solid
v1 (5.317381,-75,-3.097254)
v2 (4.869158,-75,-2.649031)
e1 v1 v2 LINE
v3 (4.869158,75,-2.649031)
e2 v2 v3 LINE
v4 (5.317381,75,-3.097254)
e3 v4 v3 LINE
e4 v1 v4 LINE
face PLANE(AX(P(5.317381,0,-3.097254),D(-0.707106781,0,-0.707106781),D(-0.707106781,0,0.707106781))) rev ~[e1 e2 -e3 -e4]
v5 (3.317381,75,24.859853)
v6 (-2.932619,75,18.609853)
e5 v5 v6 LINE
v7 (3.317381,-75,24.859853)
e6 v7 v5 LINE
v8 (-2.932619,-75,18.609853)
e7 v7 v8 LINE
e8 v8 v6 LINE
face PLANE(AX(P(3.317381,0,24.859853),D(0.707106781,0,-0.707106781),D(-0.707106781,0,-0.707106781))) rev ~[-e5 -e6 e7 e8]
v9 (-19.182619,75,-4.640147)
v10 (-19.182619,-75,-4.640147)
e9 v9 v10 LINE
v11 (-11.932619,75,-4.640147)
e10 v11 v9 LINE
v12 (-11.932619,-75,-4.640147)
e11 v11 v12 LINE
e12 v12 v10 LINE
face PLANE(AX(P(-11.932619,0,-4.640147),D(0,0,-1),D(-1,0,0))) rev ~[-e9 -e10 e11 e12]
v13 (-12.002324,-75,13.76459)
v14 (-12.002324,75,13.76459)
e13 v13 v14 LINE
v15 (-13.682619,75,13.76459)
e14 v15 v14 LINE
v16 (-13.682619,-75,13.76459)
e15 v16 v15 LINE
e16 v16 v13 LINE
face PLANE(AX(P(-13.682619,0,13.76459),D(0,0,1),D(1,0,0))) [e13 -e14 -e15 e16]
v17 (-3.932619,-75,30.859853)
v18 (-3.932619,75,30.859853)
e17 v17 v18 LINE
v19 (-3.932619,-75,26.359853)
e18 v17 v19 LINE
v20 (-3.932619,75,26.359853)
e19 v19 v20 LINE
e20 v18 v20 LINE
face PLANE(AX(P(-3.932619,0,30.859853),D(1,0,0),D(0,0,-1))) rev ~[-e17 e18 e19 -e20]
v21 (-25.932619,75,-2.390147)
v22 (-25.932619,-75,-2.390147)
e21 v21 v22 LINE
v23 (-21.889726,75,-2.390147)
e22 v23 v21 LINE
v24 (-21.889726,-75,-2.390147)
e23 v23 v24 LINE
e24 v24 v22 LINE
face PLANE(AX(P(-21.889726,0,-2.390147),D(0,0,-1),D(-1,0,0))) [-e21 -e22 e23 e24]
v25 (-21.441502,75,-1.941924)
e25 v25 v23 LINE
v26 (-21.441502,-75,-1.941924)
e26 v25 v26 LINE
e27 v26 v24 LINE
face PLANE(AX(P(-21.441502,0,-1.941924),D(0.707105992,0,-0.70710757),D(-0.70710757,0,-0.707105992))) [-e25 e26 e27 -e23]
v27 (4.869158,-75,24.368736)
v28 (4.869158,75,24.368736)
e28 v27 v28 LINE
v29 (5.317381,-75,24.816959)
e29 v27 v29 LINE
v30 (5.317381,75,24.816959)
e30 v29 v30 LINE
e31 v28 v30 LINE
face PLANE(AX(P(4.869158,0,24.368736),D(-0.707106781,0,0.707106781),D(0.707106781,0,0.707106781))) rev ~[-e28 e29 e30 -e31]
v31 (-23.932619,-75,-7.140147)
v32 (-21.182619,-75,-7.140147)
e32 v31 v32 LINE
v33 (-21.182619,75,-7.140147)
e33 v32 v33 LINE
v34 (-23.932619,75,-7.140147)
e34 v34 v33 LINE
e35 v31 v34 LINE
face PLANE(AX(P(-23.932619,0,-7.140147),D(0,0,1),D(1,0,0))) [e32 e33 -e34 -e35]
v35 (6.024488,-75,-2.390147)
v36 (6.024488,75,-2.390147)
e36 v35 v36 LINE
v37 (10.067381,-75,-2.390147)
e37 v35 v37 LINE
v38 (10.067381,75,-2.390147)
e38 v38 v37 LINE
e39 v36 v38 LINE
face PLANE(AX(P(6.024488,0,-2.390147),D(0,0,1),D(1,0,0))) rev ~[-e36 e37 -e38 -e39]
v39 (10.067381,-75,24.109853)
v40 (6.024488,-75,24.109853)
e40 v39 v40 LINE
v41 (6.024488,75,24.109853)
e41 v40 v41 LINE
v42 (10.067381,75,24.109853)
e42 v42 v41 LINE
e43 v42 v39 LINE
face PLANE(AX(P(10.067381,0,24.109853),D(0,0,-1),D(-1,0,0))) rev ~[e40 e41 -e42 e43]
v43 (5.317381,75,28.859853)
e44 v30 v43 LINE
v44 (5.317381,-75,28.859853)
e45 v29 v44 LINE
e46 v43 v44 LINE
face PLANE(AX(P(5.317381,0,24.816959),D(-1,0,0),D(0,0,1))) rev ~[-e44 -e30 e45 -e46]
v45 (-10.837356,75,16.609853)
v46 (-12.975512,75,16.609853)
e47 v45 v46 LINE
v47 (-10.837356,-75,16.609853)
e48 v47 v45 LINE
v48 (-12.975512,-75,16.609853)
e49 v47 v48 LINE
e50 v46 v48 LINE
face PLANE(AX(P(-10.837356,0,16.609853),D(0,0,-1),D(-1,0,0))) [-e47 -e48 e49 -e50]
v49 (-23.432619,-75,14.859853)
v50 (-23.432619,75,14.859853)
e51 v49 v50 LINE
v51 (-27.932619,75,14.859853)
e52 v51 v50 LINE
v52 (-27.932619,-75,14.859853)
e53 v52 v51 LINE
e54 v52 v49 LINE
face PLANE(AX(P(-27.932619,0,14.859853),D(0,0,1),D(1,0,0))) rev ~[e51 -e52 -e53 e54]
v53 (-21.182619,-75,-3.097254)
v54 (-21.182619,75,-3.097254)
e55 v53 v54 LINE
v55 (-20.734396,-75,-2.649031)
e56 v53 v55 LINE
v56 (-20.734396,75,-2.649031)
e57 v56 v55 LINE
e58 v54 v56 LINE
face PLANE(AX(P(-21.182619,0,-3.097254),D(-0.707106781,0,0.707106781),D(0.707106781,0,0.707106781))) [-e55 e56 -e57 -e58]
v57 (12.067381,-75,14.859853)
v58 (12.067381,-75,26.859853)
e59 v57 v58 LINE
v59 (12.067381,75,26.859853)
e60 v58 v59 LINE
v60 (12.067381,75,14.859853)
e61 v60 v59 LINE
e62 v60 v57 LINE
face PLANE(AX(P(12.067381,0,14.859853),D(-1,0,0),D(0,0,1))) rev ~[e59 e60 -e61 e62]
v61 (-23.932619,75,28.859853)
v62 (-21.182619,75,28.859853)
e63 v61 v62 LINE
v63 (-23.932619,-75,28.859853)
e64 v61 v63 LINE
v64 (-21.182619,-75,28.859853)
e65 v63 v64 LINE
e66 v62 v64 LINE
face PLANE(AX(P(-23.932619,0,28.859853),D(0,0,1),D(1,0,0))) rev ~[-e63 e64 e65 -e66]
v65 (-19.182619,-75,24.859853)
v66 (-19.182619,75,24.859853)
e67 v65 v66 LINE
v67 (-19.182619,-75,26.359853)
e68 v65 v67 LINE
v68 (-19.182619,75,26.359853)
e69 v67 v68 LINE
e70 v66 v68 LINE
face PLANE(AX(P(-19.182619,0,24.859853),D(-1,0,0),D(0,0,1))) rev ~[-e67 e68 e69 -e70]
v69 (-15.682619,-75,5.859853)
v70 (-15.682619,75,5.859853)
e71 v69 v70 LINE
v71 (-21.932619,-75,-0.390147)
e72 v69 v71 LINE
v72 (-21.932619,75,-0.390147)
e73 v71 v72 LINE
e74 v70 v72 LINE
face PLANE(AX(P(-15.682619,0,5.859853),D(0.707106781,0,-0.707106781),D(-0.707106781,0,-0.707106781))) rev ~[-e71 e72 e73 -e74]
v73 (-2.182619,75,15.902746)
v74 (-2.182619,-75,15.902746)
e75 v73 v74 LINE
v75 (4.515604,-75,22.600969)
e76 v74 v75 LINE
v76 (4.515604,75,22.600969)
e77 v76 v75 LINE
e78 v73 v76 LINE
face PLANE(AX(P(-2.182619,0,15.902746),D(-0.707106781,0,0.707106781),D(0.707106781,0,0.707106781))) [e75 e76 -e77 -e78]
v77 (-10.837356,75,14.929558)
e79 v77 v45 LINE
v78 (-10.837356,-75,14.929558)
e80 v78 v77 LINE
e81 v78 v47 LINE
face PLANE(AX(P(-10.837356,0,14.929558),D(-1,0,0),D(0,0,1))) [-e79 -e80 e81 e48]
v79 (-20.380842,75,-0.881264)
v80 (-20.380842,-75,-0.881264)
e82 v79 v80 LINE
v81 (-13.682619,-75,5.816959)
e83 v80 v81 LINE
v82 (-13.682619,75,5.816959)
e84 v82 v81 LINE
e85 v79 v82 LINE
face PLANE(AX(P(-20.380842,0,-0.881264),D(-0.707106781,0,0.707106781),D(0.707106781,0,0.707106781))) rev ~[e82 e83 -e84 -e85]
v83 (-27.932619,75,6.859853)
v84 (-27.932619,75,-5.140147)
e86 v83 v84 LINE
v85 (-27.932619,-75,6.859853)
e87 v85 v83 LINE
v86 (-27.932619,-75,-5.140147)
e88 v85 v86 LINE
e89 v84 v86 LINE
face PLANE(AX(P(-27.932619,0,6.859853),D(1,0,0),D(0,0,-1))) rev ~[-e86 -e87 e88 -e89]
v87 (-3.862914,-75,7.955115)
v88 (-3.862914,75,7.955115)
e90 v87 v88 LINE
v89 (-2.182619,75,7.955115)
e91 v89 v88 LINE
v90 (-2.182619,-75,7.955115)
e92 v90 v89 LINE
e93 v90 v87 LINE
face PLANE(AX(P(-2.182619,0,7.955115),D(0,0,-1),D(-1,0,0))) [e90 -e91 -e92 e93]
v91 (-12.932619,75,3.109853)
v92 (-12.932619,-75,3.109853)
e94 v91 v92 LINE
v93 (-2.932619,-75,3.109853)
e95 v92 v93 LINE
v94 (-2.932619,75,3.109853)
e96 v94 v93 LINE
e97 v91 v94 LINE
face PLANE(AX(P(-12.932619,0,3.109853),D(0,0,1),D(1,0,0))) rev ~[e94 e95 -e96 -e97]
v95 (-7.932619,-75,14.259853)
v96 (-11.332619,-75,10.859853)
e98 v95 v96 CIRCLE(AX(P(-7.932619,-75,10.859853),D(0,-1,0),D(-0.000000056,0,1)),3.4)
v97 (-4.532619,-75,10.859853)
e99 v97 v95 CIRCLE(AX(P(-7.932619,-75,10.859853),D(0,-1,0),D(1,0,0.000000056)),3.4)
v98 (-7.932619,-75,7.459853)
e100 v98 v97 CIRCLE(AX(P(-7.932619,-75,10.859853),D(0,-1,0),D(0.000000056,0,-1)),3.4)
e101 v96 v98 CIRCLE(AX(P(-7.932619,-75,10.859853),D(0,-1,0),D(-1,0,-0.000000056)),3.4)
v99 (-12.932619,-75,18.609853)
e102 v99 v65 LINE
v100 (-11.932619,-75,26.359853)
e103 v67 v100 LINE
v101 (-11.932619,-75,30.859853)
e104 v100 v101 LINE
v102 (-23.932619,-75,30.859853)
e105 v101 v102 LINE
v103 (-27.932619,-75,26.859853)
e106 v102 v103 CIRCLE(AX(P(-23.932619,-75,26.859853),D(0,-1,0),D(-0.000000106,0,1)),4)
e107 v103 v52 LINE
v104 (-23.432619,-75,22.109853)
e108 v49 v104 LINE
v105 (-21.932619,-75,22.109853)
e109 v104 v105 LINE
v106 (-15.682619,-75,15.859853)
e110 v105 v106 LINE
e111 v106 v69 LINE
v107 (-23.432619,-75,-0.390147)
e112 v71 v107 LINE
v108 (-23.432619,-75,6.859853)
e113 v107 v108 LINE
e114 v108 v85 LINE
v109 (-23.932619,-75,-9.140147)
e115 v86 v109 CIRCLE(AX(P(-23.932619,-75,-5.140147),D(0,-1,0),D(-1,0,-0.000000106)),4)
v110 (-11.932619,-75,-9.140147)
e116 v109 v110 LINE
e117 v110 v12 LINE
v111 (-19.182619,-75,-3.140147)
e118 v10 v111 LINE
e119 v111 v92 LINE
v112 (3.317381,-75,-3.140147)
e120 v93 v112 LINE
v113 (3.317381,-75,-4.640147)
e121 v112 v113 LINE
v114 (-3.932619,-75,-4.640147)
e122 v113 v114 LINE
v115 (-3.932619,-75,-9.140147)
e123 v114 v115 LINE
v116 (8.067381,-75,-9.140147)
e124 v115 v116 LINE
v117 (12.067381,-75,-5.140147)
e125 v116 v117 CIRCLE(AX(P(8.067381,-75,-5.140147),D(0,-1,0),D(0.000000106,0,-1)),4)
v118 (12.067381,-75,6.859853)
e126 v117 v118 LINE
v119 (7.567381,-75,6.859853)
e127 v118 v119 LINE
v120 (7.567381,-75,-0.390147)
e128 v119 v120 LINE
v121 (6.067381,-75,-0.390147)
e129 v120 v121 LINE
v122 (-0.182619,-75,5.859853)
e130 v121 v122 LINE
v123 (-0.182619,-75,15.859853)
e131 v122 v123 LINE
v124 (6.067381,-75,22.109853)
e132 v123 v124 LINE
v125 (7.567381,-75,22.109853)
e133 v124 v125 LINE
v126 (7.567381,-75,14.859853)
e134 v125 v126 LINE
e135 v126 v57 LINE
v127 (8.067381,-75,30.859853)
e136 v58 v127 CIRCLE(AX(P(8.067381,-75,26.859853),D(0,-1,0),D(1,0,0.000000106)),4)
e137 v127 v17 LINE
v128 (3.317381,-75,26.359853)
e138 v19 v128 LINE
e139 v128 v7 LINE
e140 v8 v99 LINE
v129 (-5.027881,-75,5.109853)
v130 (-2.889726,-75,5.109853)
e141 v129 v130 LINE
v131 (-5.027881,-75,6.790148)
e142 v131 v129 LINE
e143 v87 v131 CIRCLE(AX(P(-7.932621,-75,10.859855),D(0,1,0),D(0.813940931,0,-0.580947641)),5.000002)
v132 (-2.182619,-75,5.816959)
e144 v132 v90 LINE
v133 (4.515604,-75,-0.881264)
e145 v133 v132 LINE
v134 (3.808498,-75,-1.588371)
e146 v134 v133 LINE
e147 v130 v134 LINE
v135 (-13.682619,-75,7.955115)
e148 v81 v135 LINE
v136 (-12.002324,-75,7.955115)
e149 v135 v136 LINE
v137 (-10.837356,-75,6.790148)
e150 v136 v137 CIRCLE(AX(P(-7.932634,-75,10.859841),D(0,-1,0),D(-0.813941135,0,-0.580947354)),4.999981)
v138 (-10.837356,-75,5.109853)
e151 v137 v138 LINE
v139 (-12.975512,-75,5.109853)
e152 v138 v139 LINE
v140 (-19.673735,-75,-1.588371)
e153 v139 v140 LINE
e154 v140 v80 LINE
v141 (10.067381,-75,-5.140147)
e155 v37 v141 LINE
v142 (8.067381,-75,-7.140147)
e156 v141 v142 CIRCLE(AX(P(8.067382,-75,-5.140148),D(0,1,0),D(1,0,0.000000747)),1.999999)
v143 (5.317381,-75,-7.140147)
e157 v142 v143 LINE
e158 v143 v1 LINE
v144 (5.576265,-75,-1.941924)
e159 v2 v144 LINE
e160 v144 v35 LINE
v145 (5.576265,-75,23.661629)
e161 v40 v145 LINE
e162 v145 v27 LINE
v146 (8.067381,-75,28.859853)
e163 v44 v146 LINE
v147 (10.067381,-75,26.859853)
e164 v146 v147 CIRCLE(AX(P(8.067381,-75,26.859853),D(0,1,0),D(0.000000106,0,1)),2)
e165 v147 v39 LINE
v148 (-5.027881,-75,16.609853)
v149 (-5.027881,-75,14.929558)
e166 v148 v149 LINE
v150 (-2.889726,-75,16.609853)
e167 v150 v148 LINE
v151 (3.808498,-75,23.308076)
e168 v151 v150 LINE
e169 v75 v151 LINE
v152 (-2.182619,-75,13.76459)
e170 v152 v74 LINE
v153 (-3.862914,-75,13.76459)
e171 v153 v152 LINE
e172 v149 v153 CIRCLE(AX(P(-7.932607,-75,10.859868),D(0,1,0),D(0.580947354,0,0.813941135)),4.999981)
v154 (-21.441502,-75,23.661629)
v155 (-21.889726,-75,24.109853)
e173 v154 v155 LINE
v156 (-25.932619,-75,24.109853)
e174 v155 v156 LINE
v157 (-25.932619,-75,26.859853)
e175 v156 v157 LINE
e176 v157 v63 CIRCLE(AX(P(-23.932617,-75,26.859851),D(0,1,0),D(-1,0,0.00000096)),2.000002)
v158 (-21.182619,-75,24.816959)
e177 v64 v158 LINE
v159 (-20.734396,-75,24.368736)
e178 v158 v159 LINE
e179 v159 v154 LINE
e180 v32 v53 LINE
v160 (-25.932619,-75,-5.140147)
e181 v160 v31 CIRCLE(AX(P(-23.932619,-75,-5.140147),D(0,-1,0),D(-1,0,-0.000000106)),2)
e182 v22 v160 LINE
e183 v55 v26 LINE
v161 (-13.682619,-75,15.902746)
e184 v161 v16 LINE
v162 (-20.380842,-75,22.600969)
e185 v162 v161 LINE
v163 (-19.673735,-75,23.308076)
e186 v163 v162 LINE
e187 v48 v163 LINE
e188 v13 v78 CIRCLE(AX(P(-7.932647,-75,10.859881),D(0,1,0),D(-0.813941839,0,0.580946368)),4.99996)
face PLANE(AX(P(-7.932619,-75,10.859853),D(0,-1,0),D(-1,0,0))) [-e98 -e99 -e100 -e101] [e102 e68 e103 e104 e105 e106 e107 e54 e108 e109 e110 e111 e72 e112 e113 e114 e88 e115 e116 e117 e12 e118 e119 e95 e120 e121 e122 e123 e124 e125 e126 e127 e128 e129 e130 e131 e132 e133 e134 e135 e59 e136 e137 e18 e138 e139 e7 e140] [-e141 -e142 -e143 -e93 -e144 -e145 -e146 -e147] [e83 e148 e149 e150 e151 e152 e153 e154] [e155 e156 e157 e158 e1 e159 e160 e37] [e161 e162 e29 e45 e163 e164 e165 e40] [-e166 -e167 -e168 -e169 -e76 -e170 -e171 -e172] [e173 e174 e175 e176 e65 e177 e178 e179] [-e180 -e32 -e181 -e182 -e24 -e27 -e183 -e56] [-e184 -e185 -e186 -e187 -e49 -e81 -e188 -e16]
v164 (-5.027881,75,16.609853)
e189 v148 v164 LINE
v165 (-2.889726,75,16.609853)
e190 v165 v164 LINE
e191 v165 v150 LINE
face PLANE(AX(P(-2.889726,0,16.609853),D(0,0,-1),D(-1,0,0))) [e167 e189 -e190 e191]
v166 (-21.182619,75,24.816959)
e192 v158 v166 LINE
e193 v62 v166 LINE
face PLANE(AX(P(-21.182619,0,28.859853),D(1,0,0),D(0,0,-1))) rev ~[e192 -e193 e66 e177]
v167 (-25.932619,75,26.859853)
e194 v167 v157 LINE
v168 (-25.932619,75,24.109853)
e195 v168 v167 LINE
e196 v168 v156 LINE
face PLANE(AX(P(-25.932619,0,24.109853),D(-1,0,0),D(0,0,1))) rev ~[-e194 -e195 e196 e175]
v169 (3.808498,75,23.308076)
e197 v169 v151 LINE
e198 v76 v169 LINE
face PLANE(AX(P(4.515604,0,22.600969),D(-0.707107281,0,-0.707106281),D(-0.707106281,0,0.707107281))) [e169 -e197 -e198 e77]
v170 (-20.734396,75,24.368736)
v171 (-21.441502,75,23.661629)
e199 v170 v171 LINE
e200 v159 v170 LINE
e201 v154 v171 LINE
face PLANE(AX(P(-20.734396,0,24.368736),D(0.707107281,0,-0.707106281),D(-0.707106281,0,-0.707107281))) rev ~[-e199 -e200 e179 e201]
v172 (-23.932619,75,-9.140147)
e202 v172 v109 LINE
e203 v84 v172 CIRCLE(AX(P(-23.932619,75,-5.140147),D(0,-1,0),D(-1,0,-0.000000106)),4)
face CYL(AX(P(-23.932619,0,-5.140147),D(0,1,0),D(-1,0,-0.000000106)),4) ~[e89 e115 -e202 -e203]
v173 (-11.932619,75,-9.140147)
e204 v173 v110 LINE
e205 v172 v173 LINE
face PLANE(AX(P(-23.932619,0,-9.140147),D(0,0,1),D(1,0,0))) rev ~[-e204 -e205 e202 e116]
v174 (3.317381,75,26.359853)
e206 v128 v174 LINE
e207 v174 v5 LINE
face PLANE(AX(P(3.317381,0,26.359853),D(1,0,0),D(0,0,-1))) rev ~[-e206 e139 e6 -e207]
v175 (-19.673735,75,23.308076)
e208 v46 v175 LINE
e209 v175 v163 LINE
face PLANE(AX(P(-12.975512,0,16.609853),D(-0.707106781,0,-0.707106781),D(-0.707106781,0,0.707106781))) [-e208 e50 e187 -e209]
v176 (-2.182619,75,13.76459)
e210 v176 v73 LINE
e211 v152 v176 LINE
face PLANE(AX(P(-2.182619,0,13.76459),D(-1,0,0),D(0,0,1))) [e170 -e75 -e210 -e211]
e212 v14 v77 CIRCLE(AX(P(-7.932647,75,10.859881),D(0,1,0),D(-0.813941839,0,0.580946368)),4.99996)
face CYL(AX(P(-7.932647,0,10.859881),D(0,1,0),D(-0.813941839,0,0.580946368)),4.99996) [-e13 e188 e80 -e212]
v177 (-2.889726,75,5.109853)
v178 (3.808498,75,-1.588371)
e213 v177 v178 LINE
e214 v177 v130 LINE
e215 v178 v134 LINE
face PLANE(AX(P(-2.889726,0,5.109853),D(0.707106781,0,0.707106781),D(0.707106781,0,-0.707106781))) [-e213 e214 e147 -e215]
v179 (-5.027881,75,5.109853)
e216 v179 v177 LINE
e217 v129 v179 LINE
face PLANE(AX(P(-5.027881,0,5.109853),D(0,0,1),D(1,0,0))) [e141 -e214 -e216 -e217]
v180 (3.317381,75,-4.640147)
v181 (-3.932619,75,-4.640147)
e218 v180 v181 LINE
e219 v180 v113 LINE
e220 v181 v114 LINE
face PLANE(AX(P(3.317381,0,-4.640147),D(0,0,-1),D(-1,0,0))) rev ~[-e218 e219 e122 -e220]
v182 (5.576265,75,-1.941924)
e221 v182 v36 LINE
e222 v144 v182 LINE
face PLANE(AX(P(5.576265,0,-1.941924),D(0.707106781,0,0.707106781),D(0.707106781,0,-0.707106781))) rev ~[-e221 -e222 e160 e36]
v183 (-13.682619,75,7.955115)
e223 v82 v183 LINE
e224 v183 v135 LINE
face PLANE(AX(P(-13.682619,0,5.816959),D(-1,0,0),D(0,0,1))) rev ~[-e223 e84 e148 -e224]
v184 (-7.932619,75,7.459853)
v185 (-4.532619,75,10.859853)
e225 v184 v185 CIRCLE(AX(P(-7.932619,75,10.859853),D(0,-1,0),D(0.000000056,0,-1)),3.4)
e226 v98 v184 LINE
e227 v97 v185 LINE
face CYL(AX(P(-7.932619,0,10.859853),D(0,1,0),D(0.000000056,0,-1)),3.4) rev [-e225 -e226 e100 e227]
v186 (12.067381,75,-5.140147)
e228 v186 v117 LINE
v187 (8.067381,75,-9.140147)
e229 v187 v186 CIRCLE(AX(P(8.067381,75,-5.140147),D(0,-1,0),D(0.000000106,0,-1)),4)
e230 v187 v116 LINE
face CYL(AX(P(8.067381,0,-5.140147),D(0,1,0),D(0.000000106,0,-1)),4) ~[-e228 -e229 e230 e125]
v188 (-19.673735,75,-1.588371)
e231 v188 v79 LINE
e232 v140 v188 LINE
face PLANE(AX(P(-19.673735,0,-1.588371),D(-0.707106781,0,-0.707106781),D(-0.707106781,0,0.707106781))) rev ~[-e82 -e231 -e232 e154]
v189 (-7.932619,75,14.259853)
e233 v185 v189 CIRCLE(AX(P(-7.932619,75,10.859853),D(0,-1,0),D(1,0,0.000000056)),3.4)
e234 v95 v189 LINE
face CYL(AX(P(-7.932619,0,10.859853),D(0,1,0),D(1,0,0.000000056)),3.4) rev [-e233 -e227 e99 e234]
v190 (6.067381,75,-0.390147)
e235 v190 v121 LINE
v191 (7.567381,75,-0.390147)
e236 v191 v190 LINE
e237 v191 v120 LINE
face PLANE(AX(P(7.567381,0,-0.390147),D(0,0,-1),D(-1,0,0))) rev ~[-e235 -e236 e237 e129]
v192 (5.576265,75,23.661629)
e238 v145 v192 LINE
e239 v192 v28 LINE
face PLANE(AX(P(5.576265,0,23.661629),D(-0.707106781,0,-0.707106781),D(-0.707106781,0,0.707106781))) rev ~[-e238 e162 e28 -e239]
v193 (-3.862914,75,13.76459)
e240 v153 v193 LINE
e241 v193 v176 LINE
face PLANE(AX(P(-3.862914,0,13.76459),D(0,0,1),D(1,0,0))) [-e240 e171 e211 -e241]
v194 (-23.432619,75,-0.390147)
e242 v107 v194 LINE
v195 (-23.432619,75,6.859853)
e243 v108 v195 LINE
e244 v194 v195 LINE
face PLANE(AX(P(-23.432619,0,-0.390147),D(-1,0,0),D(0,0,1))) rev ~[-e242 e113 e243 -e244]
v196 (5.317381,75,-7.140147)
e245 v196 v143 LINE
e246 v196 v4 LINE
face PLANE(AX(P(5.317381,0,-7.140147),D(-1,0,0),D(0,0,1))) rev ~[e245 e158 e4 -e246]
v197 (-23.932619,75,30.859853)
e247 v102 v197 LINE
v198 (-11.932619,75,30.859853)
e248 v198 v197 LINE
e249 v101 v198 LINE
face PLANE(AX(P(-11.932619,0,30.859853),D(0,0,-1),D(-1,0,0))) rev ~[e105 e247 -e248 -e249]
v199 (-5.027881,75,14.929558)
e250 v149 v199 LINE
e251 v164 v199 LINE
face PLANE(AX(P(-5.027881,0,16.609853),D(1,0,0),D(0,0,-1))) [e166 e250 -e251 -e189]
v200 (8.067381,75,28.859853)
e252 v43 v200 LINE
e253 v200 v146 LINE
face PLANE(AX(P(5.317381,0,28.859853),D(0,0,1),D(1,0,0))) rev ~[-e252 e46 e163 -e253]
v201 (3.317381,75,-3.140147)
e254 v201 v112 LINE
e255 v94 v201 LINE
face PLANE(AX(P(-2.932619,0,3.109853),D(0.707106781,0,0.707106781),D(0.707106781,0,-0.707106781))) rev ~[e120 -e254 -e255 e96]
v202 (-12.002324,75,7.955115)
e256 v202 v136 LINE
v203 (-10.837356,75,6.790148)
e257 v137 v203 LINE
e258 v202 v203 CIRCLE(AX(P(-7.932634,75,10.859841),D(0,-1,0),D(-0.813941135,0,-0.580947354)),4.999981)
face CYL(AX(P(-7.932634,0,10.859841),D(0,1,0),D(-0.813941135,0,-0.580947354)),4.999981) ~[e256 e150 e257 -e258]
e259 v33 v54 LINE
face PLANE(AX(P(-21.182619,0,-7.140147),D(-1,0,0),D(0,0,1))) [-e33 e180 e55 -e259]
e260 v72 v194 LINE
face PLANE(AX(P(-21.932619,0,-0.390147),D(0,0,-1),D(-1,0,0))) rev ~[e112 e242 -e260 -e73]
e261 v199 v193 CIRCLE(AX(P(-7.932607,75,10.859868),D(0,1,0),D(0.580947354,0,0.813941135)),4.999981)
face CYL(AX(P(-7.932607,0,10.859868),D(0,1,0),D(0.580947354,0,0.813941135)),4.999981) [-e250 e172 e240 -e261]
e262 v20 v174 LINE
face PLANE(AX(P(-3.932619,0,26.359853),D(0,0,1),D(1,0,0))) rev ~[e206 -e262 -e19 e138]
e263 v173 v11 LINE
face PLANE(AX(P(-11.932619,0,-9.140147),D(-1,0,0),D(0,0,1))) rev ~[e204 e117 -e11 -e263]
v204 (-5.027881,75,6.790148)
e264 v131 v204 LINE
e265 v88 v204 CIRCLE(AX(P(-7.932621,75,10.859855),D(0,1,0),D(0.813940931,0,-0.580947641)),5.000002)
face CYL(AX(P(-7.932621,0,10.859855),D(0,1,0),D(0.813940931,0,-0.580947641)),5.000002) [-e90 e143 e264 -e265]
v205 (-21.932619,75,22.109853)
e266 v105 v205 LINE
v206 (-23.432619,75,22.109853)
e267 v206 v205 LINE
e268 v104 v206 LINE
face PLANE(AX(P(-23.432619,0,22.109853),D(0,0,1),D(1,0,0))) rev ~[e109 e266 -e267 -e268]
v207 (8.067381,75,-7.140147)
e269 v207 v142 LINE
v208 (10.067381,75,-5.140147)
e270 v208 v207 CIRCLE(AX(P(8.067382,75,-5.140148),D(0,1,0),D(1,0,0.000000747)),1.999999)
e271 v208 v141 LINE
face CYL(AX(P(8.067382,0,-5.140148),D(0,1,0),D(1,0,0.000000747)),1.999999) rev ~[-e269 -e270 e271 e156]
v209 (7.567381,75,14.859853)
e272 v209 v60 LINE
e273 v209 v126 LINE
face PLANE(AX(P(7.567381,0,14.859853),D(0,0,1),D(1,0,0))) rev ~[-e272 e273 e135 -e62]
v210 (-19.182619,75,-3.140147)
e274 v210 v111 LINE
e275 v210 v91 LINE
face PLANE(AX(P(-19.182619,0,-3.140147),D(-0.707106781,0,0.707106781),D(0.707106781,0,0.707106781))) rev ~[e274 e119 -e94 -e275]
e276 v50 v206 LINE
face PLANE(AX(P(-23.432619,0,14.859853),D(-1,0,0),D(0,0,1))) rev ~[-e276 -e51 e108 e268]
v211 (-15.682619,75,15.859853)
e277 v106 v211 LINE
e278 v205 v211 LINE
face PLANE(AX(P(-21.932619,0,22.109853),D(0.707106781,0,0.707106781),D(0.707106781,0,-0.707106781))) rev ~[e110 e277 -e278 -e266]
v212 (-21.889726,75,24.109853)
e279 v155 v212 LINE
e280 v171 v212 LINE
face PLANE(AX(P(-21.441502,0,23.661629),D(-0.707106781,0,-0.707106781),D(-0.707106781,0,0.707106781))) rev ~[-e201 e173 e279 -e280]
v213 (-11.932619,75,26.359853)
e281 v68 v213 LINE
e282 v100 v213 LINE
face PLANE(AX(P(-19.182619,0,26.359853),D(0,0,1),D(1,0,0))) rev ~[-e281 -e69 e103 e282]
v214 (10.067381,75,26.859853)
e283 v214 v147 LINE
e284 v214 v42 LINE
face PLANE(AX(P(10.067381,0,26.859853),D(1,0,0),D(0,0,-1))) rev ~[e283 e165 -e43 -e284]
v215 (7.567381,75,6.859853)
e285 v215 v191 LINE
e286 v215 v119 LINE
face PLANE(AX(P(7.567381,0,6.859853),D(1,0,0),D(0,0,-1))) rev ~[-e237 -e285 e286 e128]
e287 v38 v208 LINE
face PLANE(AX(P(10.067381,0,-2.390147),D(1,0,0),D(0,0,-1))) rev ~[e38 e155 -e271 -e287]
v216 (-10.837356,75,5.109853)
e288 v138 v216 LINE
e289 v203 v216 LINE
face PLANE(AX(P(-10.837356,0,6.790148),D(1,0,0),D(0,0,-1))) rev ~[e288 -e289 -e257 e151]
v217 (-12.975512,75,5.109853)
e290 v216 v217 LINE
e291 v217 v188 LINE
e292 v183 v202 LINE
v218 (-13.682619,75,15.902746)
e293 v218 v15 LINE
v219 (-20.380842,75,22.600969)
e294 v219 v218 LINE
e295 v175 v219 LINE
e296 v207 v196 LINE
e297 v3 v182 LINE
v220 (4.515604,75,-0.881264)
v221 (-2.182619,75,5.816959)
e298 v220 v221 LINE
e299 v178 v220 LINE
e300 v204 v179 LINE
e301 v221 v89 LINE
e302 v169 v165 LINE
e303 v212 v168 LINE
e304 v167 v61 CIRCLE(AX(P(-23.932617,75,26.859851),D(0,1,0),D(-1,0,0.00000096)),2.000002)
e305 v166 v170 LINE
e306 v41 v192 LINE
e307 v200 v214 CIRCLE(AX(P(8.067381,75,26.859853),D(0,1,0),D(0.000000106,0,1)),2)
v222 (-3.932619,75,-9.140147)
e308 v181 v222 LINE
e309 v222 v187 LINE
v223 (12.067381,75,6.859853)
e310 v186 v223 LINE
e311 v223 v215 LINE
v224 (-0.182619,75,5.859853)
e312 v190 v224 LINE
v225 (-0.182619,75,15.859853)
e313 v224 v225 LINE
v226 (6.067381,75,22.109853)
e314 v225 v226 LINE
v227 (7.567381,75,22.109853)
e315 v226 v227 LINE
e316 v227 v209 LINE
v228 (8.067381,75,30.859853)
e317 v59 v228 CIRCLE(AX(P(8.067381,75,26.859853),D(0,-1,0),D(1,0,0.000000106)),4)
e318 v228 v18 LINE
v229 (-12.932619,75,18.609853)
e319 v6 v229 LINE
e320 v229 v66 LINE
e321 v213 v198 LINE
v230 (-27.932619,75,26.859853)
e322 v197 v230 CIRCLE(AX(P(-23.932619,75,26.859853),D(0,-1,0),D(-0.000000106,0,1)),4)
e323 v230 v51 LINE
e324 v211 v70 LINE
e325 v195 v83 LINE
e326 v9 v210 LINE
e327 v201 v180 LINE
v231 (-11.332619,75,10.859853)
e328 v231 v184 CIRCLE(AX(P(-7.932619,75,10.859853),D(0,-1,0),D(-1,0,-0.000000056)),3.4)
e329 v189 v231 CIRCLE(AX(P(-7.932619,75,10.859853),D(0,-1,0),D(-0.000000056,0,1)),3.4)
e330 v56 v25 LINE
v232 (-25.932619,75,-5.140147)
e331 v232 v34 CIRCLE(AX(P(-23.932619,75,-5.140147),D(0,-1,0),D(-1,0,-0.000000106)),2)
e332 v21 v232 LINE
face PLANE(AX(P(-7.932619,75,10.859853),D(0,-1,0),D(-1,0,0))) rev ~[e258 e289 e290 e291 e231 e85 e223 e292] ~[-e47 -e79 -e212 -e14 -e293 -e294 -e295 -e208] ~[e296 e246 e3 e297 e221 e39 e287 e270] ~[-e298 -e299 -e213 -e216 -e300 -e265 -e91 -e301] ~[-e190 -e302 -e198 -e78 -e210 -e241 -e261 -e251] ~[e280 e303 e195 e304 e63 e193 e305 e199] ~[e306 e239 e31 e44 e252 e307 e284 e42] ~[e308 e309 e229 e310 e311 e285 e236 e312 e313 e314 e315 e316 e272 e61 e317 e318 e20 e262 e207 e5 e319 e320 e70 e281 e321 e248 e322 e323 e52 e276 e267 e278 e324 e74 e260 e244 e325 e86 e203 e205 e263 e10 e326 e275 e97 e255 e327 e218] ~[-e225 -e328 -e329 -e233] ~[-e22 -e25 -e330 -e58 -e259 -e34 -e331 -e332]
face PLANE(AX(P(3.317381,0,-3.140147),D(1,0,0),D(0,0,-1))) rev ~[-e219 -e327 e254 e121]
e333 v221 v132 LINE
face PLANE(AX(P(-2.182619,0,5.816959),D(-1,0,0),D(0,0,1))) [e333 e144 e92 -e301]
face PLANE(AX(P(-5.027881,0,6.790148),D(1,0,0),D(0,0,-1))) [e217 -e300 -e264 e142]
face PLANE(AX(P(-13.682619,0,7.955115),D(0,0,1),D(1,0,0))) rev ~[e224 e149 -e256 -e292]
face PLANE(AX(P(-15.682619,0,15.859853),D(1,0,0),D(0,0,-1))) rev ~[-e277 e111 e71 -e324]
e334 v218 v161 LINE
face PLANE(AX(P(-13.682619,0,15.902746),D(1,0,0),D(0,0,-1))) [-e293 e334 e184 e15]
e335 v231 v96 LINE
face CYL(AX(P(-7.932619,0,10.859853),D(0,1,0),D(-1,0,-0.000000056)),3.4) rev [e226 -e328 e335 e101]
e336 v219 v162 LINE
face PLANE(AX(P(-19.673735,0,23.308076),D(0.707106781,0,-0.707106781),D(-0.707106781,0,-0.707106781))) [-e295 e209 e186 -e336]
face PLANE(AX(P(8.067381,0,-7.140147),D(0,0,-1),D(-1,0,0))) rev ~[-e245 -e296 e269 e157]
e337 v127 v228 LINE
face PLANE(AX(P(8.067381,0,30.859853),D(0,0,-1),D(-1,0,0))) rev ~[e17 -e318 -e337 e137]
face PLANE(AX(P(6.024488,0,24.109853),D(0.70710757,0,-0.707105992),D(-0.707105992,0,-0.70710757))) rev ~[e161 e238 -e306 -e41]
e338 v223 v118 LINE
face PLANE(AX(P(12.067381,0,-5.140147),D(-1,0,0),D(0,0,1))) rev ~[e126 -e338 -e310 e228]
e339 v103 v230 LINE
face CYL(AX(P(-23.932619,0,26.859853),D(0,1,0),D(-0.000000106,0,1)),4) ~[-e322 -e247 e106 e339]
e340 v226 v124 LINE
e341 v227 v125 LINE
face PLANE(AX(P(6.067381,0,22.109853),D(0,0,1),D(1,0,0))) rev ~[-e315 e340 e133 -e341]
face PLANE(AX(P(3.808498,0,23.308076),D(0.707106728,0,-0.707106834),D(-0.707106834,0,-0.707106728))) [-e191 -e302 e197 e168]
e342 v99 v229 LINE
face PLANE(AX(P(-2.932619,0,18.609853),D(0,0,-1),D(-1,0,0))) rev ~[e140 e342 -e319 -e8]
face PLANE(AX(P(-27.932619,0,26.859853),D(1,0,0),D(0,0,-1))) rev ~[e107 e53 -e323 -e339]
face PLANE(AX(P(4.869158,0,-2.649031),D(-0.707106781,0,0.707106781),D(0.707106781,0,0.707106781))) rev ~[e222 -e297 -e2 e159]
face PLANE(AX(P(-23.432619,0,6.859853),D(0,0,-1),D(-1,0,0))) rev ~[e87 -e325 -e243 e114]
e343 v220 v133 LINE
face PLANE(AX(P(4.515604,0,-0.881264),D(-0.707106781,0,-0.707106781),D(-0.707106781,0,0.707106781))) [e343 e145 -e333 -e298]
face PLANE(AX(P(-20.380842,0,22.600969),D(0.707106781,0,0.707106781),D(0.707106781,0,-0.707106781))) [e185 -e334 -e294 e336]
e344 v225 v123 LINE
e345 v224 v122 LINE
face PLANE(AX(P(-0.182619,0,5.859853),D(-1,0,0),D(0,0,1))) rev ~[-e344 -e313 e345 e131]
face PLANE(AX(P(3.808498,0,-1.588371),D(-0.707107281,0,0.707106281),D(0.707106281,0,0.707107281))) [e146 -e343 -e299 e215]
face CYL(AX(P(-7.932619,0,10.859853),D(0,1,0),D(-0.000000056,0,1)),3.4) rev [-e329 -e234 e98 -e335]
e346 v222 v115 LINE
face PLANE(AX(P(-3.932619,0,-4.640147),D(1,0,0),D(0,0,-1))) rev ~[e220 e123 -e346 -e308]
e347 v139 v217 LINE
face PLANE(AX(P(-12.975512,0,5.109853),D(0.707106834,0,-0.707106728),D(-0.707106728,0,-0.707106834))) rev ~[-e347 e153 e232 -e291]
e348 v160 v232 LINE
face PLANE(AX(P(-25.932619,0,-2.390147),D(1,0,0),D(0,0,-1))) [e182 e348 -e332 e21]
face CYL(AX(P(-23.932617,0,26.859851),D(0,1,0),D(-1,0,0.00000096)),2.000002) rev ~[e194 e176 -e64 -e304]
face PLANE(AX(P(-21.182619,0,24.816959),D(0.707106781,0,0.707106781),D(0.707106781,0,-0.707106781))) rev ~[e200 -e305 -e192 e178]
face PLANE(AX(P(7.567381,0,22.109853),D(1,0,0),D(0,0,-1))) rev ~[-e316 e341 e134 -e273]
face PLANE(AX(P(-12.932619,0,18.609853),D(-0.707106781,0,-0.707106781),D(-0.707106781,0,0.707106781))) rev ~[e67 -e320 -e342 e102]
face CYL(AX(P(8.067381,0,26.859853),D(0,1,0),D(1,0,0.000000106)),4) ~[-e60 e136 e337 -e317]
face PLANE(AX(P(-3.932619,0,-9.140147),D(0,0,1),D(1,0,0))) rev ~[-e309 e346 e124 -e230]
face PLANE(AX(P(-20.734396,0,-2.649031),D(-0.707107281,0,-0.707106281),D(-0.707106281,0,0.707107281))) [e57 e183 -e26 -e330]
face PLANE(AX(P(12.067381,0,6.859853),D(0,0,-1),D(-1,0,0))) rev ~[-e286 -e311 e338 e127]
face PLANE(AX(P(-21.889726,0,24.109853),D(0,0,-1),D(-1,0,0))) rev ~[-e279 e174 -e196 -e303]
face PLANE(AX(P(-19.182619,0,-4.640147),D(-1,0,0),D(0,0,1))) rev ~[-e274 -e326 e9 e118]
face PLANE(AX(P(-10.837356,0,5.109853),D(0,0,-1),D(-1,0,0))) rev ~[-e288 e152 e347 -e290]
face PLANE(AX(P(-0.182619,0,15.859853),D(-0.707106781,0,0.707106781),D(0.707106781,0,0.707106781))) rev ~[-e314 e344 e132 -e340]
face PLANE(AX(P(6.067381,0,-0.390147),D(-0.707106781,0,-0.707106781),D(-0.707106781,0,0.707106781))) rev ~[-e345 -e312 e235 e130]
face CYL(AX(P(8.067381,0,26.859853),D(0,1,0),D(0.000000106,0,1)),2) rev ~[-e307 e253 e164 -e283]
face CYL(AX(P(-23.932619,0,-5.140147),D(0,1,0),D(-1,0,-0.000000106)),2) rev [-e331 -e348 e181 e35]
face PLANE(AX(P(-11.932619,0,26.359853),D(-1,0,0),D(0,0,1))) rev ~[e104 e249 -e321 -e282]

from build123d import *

# Parameters (mm, degrees)
BOSS_EXTRUDE1_DEPTH = 75


with BuildPart() as part:
    # Sketch1 → Boss-Extrude1 (new body, symmetric)
    with BuildSketch(Plane(origin=(0, 0, 0), x_dir=(1, 0, 0), z_dir=(0, 1, 0))):
        with BuildLine():
            Line((-27.932619, -6.859853), (-27.932619, 5.140147))
            ThreePointArc((-27.932619, 5.140147), (-26.761046, 7.968574), (-23.932619, 9.140147))
            Line((-23.932619, 9.140147), (-11.932619, 9.140147))
            Line((-11.932619, 9.140147), (-11.932619, 4.640147))
            Line((-11.932619, 4.640147), (-19.182619, 4.640147))
            Line((-19.182619, 4.640147), (-19.182619, 3.140147))
            Line((-19.182619, 3.140147), (-12.932619, -3.109853))
            Line((-12.932619, -3.109853), (-7.932619, -3.109853))
            Line((-7.932619, -3.109853), (-2.932619, -3.109853))
            Line((-2.932619, -3.109853), (3.317381, 3.140147))
            Line((3.317381, 3.140147), (3.317381, 4.640147))
            Line((3.317381, 4.640147), (-3.932619, 4.640147))
            Line((-3.932619, 4.640147), (-3.932619, 9.140147))
            Line((-3.932619, 9.140147), (8.067381, 9.140147))
            ThreePointArc((8.067381, 9.140147), (10.895808, 7.968574), (12.067381, 5.140147))
            Line((12.067381, 5.140147), (12.067381, -6.859853))
            Line((12.067381, -6.859853), (7.567381, -6.859853))
            Line((7.567381, -6.859853), (7.567381, 0.390147))
            Line((7.567381, 0.390147), (6.067381, 0.390147))
            Line((6.067381, 0.390147), (-0.182619, -5.859853))
            Line((-0.182619, -5.859853), (-0.182619, -10.859853))
            Line((-0.182619, -10.859853), (-0.182619, -15.859853))
            Line((-0.182619, -15.859853), (6.067381, -22.109853))
            Line((6.067381, -22.109853), (7.567381, -22.109853))
            Line((7.567381, -22.109853), (7.567381, -14.859853))
            Line((7.567381, -14.859853), (12.067381, -14.859853))
            Line((12.067381, -14.859853), (12.067381, -26.859853))
            ThreePointArc((12.067381, -26.859853), (10.895808, -29.68828), (8.067381, -30.859853))
            Line((8.067381, -30.859853), (-3.932619, -30.859853))
            Line((-3.932619, -30.859853), (-3.932619, -26.359853))
            Line((-3.932619, -26.359853), (3.317381, -26.359853))
            Line((3.317381, -26.359853), (3.317381, -24.859853))
            Line((3.317381, -24.859853), (-2.932619, -18.609853))
            Line((-2.932619, -18.609853), (-7.932619, -18.609853))
            Line((-7.932619, -18.609853), (-12.932619, -18.609853))
            Line((-12.932619, -18.609853), (-19.182619, -24.859853))
            Line((-19.182619, -24.859853), (-19.182619, -26.359853))
            Line((-19.182619, -26.359853), (-11.932619, -26.359853))
            Line((-11.932619, -26.359853), (-11.932619, -30.859853))
            Line((-11.932619, -30.859853), (-23.932619, -30.859853))
            ThreePointArc((-23.932619, -30.859853), (-26.761046, -29.68828), (-27.932619, -26.859853))
            Line((-27.932619, -26.859853), (-27.932619, -14.859853))
            Line((-27.932619, -14.859853), (-23.432619, -14.859853))
            Line((-23.432619, -14.859853), (-23.432619, -22.109853))
            Line((-23.432619, -22.109853), (-21.932619, -22.109853))
            Line((-21.932619, -22.109853), (-15.682619, -15.859853))
            Line((-15.682619, -15.859853), (-15.682619, -10.859853))
            Line((-15.682619, -10.859853), (-15.682619, -5.859853))
            Line((-15.682619, -5.859853), (-21.932619, 0.390147))
            Line((-21.932619, 0.390147), (-23.432619, 0.390147))
            Line((-23.432619, 0.390147), (-23.432619, -6.859853))
            Line((-23.432619, -6.859853), (-27.932619, -6.859853))
        make_face()
        with BuildLine():
            Line((-25.932619, 2.390147), (-25.932619, 5.140147))
            ThreePointArc((-25.932619, 5.140147), (-25.346832, 6.554361), (-23.932619, 7.140147))
            Line((-23.932619, 7.140147), (-21.182619, 7.140147))
            Line((-21.182619, 7.140147), (-21.182619, 3.097254))
            Line((-21.182619, 3.097254), (-20.734396, 2.649031))
            Line((-20.734396, 2.649031), (-21.441502, 1.941924))
            Line((-21.441502, 1.941924), (-21.889726, 2.390147))
            Line((-21.889726, 2.390147), (-25.932619, 2.390147))
        make_face(mode=Mode.SUBTRACT)
        with BuildLine():
            Line((-20.380842, 0.881264), (-13.682619, -5.816959))
            Line((-13.682619, -5.816959), (-13.682619, -7.955115))
            Line((-13.682619, -7.955115), (-13.182619, -7.955115))
            Line((-13.182619, -7.955115), (-12.002324, -7.955115))
            ThreePointArc((-12.002324, -7.955115), (-11.468153, -7.324319), (-10.837356, -6.790148))
            Line((-10.837356, -6.790148), (-10.837356, -5.609853))
            Line((-10.837356, -5.609853), (-10.837356, -5.109853))
            Line((-10.837356, -5.109853), (-12.975512, -5.109853))
            Line((-12.975512, -5.109853), (-19.673735, 1.588371))
            Line((-19.673735, 1.588371), (-20.380842, 0.881264))
        make_face(mode=Mode.SUBTRACT)
        with BuildLine():
            Line((10.067381, 2.390147), (10.067381, 5.140147))
            ThreePointArc((10.067381, 5.140147), (9.481595, 6.554361), (8.067381, 7.140147))
            Line((8.067381, 7.140147), (5.317381, 7.140147))
            Line((5.317381, 7.140147), (5.317381, 3.097254))
            Line((5.317381, 3.097254), (4.869158, 2.649031))
            Line((4.869158, 2.649031), (5.576265, 1.941924))
            Line((5.576265, 1.941924), (6.024488, 2.390147))
            Line((6.024488, 2.390147), (10.067381, 2.390147))
        make_face(mode=Mode.SUBTRACT)
        with BuildLine():
            Line((-2.182619, -5.816959), (-2.182619, -7.955115))
            Line((-2.182619, -7.955115), (-2.682619, -7.955115))
            Line((-2.682619, -7.955115), (-3.862914, -7.955115))
            ThreePointArc((-3.862914, -7.955115), (-4.397085, -7.324319), (-5.027881, -6.790148))
            Line((-5.027881, -6.790148), (-5.027881, -5.609853))
            Line((-5.027881, -5.609853), (-5.027881, -5.109853))
            Line((-5.027881, -5.109853), (-2.889726, -5.109853))
            Line((-2.889726, -5.109853), (3.808498, 1.588371))
            Line((3.808498, 1.588371), (4.515604, 0.881264))
            Line((4.515604, 0.881264), (-2.182619, -5.816959))
        make_face(mode=Mode.SUBTRACT)
        with BuildLine():
            Line((5.317381, -28.859853), (8.067381, -28.859853))
            ThreePointArc((8.067381, -28.859853), (9.481595, -28.274066), (10.067381, -26.859853))
            Line((10.067381, -26.859853), (10.067381, -24.109853))
            Line((10.067381, -24.109853), (6.024488, -24.109853))
            Line((6.024488, -24.109853), (5.576265, -23.661629))
            Line((5.576265, -23.661629), (4.869158, -24.368736))
            Line((4.869158, -24.368736), (5.317381, -24.816959))
            Line((5.317381, -24.816959), (5.317381, -28.859853))
        make_face(mode=Mode.SUBTRACT)
        with BuildLine():
            Line((-2.889726, -16.609853), (-5.027881, -16.609853))
            Line((-5.027881, -16.609853), (-5.027881, -16.109853))
            Line((-5.027881, -16.109853), (-5.027881, -14.929558))
            ThreePointArc((-5.027881, -14.929558), (-4.397085, -14.395387), (-3.862914, -13.76459))
            Line((-3.862914, -13.76459), (-2.682619, -13.76459))
            Line((-2.682619, -13.76459), (-2.182619, -13.76459))
            Line((-2.182619, -13.76459), (-2.182619, -15.902746))
            Line((-2.182619, -15.902746), (4.515604, -22.600969))
            Line((4.515604, -22.600969), (3.808498, -23.308076))
            Line((3.808498, -23.308076), (-2.889726, -16.609853))
        make_face(mode=Mode.SUBTRACT)
        with BuildLine():
            Line((-25.932619, -24.109853), (-25.932619, -26.859853))
            ThreePointArc((-25.932619, -26.859853), (-25.346832, -28.274066), (-23.932619, -28.859853))
            Line((-23.932619, -28.859853), (-21.182619, -28.859853))
            Line((-21.182619, -28.859853), (-21.182619, -24.816959))
            Line((-21.182619, -24.816959), (-20.734396, -24.368736))
            Line((-20.734396, -24.368736), (-21.441502, -23.661629))
            Line((-21.441502, -23.661629), (-21.889726, -24.109853))
            Line((-21.889726, -24.109853), (-25.932619, -24.109853))
        make_face(mode=Mode.SUBTRACT)
        with BuildLine():
            Line((-13.682619, -15.902746), (-13.682619, -13.76459))
            Line((-13.682619, -13.76459), (-13.182619, -13.76459))
            Line((-13.182619, -13.76459), (-12.002324, -13.76459))
            ThreePointArc((-12.002324, -13.76459), (-11.468153, -14.395387), (-10.837356, -14.929558))
            Line((-10.837356, -14.929558), (-10.837356, -16.109853))
            Line((-10.837356, -16.109853), (-10.837356, -16.609853))
            Line((-10.837356, -16.609853), (-12.975512, -16.609853))
            Line((-12.975512, -16.609853), (-19.673735, -23.308076))
            Line((-19.673735, -23.308076), (-20.380842, -22.600969))
            Line((-20.380842, -22.600969), (-13.682619, -15.902746))
        make_face(mode=Mode.SUBTRACT)
        with BuildLine():
            ThreePointArc((-11.332619, -10.859853), (-10.336782, -8.45569), (-7.932619, -7.459853))
            ThreePointArc((-7.932619, -7.459853), (-5.528456, -8.45569), (-4.532619, -10.859853))
            ThreePointArc((-4.532619, -10.859853), (-5.528456, -13.264016), (-7.932619, -14.259853))
            ThreePointArc((-7.932619, -14.259853), (-10.336782, -13.264016), (-11.332619, -10.859853))
        make_face(mode=Mode.SUBTRACT)
    extrude(amount=BOSS_EXTRUDE1_DEPTH, both=True)


solid = part.part
